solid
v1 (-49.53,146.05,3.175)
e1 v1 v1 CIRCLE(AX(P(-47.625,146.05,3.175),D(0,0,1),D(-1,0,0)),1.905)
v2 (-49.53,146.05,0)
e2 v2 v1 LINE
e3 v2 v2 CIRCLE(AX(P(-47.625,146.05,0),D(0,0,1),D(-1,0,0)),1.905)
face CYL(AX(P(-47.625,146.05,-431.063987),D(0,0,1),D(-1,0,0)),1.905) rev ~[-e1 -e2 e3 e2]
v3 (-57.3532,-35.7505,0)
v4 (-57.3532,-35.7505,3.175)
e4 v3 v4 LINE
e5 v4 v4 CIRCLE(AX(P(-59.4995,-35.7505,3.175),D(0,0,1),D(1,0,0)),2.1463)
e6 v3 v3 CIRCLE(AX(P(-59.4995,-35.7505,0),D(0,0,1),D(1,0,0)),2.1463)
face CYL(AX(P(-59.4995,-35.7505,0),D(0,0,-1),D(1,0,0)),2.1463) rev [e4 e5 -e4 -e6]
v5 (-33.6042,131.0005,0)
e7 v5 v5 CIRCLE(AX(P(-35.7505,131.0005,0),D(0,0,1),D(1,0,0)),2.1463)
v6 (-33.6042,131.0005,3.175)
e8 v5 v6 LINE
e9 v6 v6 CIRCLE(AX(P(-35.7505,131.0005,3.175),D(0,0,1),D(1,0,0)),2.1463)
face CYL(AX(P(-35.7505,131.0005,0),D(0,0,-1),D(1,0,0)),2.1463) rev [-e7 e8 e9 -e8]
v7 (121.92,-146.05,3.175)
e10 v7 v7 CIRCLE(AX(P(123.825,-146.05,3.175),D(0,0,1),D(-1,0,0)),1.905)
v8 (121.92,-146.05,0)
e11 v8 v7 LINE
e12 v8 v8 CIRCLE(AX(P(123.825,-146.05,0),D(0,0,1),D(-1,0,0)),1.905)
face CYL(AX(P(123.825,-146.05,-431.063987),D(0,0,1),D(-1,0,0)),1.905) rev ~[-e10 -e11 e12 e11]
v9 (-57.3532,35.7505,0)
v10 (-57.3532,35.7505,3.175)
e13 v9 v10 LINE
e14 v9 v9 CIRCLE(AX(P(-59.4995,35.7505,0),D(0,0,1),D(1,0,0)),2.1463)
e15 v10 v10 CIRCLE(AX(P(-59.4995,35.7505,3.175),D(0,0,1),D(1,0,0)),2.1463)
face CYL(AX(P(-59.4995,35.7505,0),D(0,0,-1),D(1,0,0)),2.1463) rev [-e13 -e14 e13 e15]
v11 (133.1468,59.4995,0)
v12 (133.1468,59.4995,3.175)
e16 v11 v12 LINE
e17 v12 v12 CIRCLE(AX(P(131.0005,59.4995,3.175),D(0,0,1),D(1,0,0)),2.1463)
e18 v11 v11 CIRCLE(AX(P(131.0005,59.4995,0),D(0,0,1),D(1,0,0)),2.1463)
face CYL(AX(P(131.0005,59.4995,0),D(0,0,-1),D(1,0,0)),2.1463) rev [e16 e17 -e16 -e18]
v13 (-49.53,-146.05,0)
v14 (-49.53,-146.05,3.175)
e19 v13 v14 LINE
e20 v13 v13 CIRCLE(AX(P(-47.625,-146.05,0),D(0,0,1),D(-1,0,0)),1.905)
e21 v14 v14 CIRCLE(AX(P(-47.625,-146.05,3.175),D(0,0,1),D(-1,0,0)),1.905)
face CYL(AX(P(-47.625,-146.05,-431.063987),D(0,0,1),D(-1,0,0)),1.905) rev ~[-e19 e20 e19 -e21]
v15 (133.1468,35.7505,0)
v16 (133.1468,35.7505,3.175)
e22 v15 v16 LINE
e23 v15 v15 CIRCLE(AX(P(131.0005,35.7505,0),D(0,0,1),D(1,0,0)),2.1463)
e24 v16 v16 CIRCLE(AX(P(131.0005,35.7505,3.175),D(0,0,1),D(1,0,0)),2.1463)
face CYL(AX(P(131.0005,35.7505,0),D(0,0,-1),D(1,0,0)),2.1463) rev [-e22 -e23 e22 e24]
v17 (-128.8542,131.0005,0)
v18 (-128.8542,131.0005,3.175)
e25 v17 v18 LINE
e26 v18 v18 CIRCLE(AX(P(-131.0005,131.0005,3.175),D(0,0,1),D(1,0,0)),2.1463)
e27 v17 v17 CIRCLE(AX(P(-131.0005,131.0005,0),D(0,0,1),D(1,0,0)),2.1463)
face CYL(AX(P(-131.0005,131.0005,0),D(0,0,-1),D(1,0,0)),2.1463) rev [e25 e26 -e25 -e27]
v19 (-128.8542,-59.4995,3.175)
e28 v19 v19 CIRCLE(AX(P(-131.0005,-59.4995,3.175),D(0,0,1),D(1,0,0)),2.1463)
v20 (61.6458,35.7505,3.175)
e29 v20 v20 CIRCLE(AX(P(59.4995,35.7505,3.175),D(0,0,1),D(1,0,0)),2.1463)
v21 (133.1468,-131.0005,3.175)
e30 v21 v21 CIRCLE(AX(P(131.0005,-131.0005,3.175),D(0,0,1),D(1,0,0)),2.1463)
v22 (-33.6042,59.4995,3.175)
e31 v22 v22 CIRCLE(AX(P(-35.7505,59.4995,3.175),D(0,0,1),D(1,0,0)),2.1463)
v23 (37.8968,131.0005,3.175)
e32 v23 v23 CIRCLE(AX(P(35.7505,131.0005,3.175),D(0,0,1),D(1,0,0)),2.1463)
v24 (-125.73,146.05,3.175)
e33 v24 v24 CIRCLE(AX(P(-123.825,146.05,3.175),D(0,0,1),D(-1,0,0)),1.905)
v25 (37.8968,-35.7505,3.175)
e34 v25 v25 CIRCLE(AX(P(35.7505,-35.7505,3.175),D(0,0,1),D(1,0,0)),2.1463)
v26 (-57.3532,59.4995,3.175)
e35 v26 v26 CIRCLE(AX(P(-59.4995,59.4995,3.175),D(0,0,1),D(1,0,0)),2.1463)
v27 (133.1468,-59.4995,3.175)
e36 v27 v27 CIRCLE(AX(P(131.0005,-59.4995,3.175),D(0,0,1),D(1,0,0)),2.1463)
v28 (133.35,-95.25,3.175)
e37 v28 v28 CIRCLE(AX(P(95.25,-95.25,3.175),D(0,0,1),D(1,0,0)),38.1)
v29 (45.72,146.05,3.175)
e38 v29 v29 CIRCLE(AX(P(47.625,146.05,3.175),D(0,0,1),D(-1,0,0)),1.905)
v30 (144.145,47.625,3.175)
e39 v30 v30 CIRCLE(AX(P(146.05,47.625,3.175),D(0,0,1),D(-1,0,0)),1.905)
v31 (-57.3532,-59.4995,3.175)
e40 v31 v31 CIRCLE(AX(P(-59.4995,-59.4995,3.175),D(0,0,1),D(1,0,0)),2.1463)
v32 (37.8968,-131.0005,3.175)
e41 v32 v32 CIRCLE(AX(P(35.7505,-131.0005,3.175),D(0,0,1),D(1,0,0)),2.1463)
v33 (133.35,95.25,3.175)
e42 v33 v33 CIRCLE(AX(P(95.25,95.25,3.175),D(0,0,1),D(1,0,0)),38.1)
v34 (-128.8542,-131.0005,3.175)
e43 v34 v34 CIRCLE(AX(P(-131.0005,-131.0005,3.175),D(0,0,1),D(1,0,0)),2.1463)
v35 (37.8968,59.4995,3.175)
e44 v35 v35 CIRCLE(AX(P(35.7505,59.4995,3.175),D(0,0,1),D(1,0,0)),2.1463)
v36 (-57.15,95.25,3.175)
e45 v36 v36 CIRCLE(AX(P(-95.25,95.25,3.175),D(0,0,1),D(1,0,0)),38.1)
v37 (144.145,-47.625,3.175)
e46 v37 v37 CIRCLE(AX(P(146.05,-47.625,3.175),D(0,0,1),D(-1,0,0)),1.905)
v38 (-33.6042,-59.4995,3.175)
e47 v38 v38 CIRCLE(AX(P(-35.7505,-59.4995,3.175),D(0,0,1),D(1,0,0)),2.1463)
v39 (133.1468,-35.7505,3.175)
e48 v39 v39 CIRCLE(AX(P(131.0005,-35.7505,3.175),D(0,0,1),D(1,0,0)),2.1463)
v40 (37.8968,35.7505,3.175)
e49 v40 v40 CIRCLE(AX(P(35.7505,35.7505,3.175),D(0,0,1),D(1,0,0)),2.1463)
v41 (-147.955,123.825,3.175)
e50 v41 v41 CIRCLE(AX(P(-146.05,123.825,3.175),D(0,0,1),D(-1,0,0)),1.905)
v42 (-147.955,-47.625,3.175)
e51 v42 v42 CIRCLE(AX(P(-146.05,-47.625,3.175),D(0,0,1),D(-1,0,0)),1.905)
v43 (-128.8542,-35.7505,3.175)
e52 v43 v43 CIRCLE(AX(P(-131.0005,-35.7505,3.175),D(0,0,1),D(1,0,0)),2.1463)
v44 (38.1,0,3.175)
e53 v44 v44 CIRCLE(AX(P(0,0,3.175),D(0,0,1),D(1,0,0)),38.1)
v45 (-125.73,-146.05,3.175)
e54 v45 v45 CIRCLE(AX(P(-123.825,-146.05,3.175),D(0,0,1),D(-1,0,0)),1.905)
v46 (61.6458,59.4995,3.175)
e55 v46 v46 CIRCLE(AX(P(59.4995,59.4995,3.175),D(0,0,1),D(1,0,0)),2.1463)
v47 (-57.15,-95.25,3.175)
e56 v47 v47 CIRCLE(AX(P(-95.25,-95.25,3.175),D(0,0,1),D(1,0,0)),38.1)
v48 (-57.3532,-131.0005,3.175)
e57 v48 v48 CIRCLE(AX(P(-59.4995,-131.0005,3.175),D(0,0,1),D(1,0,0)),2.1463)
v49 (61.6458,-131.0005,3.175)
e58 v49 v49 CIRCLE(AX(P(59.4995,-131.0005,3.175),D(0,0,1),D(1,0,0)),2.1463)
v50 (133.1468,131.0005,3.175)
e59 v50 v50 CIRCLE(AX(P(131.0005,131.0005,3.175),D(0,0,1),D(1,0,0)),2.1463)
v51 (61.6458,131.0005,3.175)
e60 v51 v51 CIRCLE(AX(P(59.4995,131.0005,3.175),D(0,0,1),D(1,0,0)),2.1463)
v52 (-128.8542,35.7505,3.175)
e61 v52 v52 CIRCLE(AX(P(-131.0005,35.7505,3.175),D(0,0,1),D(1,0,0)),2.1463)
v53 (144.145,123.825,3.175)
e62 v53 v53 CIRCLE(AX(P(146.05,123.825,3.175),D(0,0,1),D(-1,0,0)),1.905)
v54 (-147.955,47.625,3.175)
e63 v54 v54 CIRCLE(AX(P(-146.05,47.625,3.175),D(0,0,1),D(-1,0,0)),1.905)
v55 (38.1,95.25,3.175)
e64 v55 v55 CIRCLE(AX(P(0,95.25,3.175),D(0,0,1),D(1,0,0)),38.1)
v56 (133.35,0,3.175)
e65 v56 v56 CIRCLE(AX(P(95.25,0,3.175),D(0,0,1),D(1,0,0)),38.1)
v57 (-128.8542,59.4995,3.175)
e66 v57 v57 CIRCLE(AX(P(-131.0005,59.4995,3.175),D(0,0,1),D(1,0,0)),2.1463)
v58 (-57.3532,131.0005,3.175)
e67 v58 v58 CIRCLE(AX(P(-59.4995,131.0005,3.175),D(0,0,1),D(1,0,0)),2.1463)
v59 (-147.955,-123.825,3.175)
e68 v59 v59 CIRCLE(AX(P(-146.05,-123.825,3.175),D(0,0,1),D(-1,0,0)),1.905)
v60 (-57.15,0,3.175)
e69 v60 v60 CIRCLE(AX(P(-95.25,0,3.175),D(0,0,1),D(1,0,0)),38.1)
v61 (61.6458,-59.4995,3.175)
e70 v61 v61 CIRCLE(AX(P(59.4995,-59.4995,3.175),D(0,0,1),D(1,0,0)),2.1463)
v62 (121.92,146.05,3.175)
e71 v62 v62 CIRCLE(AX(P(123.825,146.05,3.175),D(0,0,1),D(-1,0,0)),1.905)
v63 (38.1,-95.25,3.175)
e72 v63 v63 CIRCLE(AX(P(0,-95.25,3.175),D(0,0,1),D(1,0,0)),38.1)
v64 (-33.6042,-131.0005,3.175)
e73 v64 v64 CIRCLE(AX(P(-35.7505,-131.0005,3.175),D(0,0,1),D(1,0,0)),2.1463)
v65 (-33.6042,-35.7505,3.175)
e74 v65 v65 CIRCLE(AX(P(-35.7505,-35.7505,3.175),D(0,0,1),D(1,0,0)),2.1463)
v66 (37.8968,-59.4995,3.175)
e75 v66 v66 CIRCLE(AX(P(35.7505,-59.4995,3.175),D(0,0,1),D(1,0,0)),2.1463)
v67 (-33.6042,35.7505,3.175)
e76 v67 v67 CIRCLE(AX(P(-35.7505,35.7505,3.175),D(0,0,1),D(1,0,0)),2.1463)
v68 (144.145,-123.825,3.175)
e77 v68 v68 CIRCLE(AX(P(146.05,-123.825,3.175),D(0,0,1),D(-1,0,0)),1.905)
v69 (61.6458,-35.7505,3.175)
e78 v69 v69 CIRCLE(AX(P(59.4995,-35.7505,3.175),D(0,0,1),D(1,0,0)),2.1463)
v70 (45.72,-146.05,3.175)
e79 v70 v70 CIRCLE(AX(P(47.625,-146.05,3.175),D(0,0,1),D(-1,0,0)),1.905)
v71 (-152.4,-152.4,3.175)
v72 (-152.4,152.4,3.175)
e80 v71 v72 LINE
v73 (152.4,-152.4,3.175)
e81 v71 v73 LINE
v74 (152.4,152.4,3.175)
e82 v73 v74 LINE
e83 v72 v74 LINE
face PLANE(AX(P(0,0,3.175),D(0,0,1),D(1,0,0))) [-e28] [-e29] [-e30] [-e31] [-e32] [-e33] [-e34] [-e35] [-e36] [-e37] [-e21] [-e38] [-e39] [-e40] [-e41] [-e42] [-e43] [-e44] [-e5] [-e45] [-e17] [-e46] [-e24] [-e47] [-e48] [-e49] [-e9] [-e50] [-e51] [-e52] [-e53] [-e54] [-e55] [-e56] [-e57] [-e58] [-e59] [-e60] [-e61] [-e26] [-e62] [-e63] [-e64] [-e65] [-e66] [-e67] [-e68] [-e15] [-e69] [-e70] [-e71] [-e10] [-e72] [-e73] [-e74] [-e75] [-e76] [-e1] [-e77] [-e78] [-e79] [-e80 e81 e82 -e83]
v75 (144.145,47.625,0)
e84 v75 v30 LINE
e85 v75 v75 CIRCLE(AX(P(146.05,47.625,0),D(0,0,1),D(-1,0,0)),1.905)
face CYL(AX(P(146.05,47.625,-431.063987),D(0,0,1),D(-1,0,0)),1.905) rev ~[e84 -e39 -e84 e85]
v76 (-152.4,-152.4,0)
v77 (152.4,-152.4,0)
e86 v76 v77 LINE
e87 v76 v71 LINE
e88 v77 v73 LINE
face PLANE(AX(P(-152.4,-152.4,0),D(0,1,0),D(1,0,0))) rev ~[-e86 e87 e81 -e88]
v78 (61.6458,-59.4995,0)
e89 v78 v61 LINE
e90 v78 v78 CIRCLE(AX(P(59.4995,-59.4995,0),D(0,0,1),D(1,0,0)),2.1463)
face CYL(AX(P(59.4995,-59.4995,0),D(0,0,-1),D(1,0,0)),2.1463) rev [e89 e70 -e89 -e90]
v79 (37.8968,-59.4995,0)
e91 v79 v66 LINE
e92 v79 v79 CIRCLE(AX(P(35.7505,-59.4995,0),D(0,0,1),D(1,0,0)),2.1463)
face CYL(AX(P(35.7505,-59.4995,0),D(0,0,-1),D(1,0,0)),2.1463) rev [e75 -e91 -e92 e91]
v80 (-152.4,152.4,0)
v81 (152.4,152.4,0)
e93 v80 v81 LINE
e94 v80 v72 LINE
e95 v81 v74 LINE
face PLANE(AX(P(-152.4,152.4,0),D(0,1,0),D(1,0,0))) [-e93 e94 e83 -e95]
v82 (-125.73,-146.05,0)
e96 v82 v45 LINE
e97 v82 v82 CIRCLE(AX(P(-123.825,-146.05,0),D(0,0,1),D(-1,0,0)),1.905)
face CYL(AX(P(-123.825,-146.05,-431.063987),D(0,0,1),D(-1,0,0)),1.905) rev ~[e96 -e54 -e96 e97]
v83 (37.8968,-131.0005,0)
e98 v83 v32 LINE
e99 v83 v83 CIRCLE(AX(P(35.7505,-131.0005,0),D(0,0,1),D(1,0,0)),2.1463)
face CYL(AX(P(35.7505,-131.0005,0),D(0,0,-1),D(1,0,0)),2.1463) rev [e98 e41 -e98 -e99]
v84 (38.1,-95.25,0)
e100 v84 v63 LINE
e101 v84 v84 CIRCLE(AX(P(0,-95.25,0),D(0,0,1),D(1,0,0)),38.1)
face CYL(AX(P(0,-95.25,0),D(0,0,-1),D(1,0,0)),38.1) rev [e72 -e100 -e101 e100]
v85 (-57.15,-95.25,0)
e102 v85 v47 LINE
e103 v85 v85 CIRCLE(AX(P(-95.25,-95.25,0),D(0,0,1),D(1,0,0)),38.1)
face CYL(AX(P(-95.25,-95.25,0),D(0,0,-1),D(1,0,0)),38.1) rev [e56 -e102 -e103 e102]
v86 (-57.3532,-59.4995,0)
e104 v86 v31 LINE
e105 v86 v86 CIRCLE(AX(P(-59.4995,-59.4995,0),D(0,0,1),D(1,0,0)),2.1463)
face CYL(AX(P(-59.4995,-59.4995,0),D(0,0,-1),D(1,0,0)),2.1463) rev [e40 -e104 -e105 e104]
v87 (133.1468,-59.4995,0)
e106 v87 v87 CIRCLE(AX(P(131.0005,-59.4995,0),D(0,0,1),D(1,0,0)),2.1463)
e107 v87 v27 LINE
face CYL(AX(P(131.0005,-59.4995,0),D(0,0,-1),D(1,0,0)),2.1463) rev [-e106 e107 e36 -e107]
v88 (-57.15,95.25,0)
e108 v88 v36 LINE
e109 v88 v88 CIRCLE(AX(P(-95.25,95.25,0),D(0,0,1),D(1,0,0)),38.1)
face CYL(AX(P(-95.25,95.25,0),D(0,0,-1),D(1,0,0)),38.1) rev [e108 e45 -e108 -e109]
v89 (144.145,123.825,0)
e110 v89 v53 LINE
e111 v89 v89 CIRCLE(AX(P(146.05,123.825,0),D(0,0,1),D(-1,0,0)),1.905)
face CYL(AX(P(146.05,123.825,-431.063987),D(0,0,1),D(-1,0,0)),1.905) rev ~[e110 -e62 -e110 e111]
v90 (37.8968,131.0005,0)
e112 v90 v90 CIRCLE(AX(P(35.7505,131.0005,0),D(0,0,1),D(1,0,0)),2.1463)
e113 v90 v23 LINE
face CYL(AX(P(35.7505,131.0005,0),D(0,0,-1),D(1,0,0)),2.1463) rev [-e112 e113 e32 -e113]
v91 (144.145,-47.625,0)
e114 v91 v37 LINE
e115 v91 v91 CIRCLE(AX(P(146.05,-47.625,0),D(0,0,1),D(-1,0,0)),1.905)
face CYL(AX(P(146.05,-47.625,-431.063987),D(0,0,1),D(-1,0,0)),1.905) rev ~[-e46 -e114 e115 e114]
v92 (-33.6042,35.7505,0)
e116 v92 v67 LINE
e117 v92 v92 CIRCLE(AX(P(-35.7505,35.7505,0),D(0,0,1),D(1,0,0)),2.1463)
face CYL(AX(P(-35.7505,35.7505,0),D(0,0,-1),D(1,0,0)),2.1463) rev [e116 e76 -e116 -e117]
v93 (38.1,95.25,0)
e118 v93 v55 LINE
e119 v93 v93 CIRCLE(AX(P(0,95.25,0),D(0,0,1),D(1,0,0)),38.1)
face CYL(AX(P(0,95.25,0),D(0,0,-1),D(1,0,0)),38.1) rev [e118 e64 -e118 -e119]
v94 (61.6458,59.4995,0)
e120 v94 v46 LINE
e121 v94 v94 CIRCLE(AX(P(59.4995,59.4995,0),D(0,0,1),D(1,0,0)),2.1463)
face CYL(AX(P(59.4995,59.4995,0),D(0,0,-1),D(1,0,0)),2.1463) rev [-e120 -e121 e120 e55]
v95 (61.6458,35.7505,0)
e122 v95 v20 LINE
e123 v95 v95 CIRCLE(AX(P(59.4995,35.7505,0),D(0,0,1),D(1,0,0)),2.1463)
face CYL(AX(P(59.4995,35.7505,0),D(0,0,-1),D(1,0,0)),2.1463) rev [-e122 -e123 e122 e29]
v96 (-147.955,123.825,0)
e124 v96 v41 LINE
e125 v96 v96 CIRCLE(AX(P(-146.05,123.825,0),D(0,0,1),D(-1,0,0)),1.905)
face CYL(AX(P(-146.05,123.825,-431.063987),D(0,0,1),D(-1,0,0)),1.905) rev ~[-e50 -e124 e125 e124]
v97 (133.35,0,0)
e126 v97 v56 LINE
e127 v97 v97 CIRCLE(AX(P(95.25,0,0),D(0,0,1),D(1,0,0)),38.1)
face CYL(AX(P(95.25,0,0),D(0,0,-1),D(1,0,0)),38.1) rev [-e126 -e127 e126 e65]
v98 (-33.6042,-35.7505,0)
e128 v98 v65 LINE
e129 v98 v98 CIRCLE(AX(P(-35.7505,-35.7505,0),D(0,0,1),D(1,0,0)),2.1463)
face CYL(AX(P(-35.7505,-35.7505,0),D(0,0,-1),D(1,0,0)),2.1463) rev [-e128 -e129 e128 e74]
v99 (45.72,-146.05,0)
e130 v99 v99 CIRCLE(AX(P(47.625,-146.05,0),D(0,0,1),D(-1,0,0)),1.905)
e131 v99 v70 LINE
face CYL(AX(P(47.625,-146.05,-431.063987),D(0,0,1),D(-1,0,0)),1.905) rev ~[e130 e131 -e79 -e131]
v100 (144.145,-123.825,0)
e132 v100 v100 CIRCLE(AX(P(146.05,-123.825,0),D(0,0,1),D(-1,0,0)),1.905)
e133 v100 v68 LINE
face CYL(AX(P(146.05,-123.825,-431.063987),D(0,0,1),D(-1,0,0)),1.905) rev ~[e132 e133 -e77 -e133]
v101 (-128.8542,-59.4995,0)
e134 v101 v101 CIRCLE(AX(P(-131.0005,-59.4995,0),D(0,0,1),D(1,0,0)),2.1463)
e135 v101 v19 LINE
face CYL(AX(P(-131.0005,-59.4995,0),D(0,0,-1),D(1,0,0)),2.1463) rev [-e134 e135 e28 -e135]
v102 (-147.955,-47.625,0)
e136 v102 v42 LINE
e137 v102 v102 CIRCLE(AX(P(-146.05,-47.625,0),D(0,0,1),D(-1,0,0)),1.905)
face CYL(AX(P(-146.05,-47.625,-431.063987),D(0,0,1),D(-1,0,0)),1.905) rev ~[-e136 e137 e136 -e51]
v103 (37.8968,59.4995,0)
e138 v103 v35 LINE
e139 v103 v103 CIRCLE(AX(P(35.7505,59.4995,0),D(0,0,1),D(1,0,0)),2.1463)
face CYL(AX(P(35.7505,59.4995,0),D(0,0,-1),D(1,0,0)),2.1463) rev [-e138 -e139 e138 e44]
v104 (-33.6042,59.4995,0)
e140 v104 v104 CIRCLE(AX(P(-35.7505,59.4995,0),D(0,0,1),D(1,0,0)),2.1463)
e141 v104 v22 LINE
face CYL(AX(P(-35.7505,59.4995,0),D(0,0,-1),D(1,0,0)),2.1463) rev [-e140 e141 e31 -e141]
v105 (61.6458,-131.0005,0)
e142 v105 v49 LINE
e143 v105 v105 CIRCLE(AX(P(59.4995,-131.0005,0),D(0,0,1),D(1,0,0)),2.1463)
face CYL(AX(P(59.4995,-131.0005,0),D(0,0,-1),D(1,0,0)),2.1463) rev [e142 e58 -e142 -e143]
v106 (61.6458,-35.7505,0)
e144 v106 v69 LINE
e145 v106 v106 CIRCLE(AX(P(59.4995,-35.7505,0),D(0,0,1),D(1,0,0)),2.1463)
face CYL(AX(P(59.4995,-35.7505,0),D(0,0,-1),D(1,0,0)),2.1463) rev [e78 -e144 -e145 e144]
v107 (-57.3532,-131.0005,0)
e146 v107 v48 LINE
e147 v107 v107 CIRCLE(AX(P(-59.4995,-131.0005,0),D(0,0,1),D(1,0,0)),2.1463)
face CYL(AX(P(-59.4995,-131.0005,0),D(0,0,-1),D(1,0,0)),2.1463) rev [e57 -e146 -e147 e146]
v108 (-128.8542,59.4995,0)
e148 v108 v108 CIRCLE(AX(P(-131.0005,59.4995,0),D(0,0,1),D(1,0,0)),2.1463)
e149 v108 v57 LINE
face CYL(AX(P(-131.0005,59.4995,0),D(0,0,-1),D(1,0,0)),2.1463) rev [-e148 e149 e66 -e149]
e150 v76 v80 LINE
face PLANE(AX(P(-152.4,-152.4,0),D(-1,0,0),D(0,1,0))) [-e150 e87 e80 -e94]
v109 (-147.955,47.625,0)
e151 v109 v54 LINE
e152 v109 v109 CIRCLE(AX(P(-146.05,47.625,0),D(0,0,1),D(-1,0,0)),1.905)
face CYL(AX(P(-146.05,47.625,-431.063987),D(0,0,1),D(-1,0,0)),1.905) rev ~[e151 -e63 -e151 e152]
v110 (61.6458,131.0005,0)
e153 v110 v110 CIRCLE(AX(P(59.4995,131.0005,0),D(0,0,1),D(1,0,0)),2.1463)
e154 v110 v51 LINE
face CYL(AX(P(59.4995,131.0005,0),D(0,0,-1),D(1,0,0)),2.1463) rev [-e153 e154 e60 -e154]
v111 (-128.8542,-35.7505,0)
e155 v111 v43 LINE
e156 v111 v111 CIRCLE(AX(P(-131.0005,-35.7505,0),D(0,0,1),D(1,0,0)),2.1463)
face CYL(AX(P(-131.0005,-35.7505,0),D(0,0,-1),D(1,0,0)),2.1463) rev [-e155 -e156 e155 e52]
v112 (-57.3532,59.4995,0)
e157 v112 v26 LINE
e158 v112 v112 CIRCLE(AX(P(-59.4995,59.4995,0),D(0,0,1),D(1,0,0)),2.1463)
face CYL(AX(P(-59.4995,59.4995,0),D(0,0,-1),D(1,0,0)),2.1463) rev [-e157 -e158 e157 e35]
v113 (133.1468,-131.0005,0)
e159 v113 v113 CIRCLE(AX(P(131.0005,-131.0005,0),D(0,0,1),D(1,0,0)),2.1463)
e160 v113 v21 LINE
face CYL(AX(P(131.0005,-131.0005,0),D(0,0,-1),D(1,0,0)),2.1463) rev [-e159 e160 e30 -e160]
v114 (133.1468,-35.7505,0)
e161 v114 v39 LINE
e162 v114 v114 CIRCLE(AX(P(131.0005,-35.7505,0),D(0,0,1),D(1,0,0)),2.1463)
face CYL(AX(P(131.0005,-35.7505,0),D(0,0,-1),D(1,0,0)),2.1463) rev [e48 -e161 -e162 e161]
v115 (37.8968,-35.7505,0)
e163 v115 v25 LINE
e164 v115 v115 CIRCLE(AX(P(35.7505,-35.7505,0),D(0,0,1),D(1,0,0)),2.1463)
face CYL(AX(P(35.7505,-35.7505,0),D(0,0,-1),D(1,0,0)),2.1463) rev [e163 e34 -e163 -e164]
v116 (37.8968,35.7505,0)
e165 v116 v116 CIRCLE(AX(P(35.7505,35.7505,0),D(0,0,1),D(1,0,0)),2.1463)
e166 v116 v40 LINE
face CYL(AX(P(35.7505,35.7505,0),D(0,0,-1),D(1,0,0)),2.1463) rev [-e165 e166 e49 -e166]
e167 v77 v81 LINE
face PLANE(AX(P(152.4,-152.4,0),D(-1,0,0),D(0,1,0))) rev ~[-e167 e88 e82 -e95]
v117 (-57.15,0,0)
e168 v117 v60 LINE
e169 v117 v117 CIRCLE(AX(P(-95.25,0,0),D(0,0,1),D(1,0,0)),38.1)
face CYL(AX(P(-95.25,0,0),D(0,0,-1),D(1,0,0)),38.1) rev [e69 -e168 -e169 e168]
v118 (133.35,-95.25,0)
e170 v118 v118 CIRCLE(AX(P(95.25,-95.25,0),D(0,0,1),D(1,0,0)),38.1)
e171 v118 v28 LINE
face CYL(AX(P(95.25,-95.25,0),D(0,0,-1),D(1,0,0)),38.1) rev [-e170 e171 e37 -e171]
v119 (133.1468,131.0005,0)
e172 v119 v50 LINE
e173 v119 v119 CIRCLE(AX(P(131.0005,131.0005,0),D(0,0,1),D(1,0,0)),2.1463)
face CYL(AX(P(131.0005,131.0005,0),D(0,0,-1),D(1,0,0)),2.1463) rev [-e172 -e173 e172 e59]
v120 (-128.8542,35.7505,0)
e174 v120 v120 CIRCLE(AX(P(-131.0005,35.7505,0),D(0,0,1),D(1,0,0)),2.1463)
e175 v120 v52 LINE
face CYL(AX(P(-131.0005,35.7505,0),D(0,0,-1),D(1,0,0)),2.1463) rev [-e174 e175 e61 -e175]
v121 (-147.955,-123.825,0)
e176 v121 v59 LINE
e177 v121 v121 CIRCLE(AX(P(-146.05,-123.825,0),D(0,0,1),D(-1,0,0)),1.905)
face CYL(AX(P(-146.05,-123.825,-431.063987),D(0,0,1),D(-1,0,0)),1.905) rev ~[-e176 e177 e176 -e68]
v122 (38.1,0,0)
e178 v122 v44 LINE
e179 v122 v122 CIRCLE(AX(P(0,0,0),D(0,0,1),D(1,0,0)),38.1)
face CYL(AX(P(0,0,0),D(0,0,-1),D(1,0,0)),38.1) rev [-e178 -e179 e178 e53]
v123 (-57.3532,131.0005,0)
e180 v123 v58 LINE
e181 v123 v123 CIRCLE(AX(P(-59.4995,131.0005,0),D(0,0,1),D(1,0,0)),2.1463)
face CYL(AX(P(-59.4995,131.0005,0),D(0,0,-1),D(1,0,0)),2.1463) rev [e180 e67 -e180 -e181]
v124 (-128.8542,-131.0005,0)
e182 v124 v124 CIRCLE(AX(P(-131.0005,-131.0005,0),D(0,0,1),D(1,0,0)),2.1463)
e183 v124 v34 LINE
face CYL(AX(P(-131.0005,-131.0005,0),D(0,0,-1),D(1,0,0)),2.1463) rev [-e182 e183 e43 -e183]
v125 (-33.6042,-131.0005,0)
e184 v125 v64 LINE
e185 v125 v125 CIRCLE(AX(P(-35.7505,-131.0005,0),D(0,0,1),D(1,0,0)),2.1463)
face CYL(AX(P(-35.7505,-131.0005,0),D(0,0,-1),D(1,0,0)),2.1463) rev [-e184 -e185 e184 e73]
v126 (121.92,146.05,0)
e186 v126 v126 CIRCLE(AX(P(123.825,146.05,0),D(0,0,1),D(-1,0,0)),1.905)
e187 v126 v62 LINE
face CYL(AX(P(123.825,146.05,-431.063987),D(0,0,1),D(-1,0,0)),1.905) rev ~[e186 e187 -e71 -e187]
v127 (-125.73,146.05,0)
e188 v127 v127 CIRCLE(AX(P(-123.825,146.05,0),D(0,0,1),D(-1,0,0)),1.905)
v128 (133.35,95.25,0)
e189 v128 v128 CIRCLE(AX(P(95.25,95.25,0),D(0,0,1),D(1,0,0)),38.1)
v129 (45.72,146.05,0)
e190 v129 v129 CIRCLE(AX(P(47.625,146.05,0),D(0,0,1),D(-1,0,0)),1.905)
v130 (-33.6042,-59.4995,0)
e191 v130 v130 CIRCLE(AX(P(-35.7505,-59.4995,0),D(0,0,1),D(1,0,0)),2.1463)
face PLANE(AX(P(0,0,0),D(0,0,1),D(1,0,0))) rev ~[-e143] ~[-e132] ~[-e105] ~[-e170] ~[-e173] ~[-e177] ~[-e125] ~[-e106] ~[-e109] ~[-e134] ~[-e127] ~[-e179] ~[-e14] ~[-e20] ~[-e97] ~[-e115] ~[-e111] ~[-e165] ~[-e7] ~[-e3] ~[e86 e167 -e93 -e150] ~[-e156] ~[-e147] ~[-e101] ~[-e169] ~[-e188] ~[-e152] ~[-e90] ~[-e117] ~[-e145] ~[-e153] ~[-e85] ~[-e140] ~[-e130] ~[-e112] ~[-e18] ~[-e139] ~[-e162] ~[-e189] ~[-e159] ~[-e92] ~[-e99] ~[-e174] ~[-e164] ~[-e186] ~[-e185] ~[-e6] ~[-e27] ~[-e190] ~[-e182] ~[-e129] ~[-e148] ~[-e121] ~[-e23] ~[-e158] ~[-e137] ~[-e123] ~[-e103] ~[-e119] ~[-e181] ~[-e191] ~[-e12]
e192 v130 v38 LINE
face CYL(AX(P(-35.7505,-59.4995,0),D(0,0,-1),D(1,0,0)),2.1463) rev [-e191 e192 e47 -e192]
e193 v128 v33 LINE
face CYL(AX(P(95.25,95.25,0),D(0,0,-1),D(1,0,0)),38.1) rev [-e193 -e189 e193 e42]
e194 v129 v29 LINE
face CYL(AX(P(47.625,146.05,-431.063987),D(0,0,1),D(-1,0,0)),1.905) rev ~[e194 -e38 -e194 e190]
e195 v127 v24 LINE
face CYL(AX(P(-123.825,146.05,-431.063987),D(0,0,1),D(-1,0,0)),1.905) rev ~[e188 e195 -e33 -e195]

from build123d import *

# Parameters (mm, degrees)
F0_W     = 304.8
F0_H     = 304.8
F0_R     = 2.1463
F0_R_2   = 38.1
F1_DEPTH = 3.175
F2_D     = 3.81


with BuildPart() as f1:
    # F0 (on Top) → F1 (new body)
    with BuildSketch(Plane.XY):
        Rectangle(F0_W, F0_H)
        with Locations((-131.0005, -131.0005)):
            Circle(F0_R, mode=Mode.SUBTRACT)
        with Locations((-95.25, -95.25)):
            Circle(F0_R_2, mode=Mode.SUBTRACT)
        with Locations((-59.4995, -131.0005)):
            Circle(F0_R, mode=Mode.SUBTRACT)
        with Locations((-35.7505, -131.0005)):
            Circle(F0_R, mode=Mode.SUBTRACT)
        with Locations((-131.0005, -59.4995)):
            Circle(F0_R, mode=Mode.SUBTRACT)
        with Locations((-131.0005, -35.7505)):
            Circle(F0_R, mode=Mode.SUBTRACT)
        with Locations((-59.4995, -59.4995)):
            Circle(F0_R, mode=Mode.SUBTRACT)
        with Locations((-35.7505, -59.4995)):
            Circle(F0_R, mode=Mode.SUBTRACT)
        with Locations((-59.4995, -35.7505)):
            Circle(F0_R, mode=Mode.SUBTRACT)
        with Locations((-35.7505, -35.7505)):
            Circle(F0_R, mode=Mode.SUBTRACT)
        with Locations((35.7505, -131.0005)):
            Circle(F0_R, mode=Mode.SUBTRACT)
        with Locations((59.4995, -131.0005)):
            Circle(F0_R, mode=Mode.SUBTRACT)
        with Locations((0, -95.25)):
            Circle(F0_R_2, mode=Mode.SUBTRACT)
        with Locations((131.0005, -131.0005)):
            Circle(F0_R, mode=Mode.SUBTRACT)
        with Locations((95.25, -95.25)):
            Circle(F0_R_2, mode=Mode.SUBTRACT)
        with Locations((35.7505, -59.4995)):
            Circle(F0_R, mode=Mode.SUBTRACT)
        with Locations((59.4995, -59.4995)):
            Circle(F0_R, mode=Mode.SUBTRACT)
        with Locations((35.7505, -35.7505)):
            Circle(F0_R, mode=Mode.SUBTRACT)
        with Locations((59.4995, -35.7505)):
            Circle(F0_R, mode=Mode.SUBTRACT)
        with Locations((131.0005, -59.4995)):
            Circle(F0_R, mode=Mode.SUBTRACT)
        with Locations((131.0005, -35.7505)):
            Circle(F0_R, mode=Mode.SUBTRACT)
        with Locations((-131.0005, 35.7505)):
            Circle(F0_R, mode=Mode.SUBTRACT)
        with Locations((-95.25, 0)):
            Circle(F0_R_2, mode=Mode.SUBTRACT)
        with Locations((-131.0005, 59.4995)):
            Circle(F0_R, mode=Mode.SUBTRACT)
        with Locations((-59.4995, 35.7505)):
            Circle(F0_R, mode=Mode.SUBTRACT)
        with Locations((-35.7505, 35.7505)):
            Circle(F0_R, mode=Mode.SUBTRACT)
        with Locations((-59.4995, 59.4995)):
            Circle(F0_R, mode=Mode.SUBTRACT)
        with Locations((-35.7505, 59.4995)):
            Circle(F0_R, mode=Mode.SUBTRACT)
        with Locations((-95.25, 95.25)):
            Circle(F0_R_2, mode=Mode.SUBTRACT)
        with Locations((-131.0005, 131.0005)):
            Circle(F0_R, mode=Mode.SUBTRACT)
        with Locations((-59.4995, 131.0005)):
            Circle(F0_R, mode=Mode.SUBTRACT)
        with Locations((-35.7505, 131.0005)):
            Circle(F0_R, mode=Mode.SUBTRACT)
        Circle(F0_R_2, mode=Mode.SUBTRACT)
        with Locations((35.7505, 35.7505)):
            Circle(F0_R, mode=Mode.SUBTRACT)
        with Locations((59.4995, 35.7505)):
            Circle(F0_R, mode=Mode.SUBTRACT)
        with Locations((35.7505, 59.4995)):
            Circle(F0_R, mode=Mode.SUBTRACT)
        with Locations((59.4995, 59.4995)):
            Circle(F0_R, mode=Mode.SUBTRACT)
        with Locations((95.25, 0)):
            Circle(F0_R_2, mode=Mode.SUBTRACT)
        with Locations((131.0005, 35.7505)):
            Circle(F0_R, mode=Mode.SUBTRACT)
        with Locations((131.0005, 59.4995)):
            Circle(F0_R, mode=Mode.SUBTRACT)
        with Locations((0, 95.25)):
            Circle(F0_R_2, mode=Mode.SUBTRACT)
        with Locations((35.7505, 131.0005)):
            Circle(F0_R, mode=Mode.SUBTRACT)
        with Locations((59.4995, 131.0005)):
            Circle(F0_R, mode=Mode.SUBTRACT)
        with Locations((95.25, 95.25)):
            Circle(F0_R_2, mode=Mode.SUBTRACT)
        with Locations((131.0005, 131.0005)):
            Circle(F0_R, mode=Mode.SUBTRACT)
    extrude(amount=F1_DEPTH)

    # F2 (through all)
    with Locations(Plane(origin=(0, 0, 0), x_dir=(1, 0, 0), z_dir=(0, 0, -1))):
        with Locations((-146.05, 123.825), (-123.825, 146.05), (123.825, 146.05), (146.05, -123.825), (123.825, -146.05), (-146.05, -123.825), (-123.825, -146.05), (-146.05, 47.625), (-146.05, -47.625), (-47.625, -146.05), (47.625, -146.05), (146.05, -47.625), (146.05, 47.625), (47.625, 146.05), (-47.625, 146.05), (146.05, 123.825)):
            Hole(F2_D / 2)


solid = f1.part
